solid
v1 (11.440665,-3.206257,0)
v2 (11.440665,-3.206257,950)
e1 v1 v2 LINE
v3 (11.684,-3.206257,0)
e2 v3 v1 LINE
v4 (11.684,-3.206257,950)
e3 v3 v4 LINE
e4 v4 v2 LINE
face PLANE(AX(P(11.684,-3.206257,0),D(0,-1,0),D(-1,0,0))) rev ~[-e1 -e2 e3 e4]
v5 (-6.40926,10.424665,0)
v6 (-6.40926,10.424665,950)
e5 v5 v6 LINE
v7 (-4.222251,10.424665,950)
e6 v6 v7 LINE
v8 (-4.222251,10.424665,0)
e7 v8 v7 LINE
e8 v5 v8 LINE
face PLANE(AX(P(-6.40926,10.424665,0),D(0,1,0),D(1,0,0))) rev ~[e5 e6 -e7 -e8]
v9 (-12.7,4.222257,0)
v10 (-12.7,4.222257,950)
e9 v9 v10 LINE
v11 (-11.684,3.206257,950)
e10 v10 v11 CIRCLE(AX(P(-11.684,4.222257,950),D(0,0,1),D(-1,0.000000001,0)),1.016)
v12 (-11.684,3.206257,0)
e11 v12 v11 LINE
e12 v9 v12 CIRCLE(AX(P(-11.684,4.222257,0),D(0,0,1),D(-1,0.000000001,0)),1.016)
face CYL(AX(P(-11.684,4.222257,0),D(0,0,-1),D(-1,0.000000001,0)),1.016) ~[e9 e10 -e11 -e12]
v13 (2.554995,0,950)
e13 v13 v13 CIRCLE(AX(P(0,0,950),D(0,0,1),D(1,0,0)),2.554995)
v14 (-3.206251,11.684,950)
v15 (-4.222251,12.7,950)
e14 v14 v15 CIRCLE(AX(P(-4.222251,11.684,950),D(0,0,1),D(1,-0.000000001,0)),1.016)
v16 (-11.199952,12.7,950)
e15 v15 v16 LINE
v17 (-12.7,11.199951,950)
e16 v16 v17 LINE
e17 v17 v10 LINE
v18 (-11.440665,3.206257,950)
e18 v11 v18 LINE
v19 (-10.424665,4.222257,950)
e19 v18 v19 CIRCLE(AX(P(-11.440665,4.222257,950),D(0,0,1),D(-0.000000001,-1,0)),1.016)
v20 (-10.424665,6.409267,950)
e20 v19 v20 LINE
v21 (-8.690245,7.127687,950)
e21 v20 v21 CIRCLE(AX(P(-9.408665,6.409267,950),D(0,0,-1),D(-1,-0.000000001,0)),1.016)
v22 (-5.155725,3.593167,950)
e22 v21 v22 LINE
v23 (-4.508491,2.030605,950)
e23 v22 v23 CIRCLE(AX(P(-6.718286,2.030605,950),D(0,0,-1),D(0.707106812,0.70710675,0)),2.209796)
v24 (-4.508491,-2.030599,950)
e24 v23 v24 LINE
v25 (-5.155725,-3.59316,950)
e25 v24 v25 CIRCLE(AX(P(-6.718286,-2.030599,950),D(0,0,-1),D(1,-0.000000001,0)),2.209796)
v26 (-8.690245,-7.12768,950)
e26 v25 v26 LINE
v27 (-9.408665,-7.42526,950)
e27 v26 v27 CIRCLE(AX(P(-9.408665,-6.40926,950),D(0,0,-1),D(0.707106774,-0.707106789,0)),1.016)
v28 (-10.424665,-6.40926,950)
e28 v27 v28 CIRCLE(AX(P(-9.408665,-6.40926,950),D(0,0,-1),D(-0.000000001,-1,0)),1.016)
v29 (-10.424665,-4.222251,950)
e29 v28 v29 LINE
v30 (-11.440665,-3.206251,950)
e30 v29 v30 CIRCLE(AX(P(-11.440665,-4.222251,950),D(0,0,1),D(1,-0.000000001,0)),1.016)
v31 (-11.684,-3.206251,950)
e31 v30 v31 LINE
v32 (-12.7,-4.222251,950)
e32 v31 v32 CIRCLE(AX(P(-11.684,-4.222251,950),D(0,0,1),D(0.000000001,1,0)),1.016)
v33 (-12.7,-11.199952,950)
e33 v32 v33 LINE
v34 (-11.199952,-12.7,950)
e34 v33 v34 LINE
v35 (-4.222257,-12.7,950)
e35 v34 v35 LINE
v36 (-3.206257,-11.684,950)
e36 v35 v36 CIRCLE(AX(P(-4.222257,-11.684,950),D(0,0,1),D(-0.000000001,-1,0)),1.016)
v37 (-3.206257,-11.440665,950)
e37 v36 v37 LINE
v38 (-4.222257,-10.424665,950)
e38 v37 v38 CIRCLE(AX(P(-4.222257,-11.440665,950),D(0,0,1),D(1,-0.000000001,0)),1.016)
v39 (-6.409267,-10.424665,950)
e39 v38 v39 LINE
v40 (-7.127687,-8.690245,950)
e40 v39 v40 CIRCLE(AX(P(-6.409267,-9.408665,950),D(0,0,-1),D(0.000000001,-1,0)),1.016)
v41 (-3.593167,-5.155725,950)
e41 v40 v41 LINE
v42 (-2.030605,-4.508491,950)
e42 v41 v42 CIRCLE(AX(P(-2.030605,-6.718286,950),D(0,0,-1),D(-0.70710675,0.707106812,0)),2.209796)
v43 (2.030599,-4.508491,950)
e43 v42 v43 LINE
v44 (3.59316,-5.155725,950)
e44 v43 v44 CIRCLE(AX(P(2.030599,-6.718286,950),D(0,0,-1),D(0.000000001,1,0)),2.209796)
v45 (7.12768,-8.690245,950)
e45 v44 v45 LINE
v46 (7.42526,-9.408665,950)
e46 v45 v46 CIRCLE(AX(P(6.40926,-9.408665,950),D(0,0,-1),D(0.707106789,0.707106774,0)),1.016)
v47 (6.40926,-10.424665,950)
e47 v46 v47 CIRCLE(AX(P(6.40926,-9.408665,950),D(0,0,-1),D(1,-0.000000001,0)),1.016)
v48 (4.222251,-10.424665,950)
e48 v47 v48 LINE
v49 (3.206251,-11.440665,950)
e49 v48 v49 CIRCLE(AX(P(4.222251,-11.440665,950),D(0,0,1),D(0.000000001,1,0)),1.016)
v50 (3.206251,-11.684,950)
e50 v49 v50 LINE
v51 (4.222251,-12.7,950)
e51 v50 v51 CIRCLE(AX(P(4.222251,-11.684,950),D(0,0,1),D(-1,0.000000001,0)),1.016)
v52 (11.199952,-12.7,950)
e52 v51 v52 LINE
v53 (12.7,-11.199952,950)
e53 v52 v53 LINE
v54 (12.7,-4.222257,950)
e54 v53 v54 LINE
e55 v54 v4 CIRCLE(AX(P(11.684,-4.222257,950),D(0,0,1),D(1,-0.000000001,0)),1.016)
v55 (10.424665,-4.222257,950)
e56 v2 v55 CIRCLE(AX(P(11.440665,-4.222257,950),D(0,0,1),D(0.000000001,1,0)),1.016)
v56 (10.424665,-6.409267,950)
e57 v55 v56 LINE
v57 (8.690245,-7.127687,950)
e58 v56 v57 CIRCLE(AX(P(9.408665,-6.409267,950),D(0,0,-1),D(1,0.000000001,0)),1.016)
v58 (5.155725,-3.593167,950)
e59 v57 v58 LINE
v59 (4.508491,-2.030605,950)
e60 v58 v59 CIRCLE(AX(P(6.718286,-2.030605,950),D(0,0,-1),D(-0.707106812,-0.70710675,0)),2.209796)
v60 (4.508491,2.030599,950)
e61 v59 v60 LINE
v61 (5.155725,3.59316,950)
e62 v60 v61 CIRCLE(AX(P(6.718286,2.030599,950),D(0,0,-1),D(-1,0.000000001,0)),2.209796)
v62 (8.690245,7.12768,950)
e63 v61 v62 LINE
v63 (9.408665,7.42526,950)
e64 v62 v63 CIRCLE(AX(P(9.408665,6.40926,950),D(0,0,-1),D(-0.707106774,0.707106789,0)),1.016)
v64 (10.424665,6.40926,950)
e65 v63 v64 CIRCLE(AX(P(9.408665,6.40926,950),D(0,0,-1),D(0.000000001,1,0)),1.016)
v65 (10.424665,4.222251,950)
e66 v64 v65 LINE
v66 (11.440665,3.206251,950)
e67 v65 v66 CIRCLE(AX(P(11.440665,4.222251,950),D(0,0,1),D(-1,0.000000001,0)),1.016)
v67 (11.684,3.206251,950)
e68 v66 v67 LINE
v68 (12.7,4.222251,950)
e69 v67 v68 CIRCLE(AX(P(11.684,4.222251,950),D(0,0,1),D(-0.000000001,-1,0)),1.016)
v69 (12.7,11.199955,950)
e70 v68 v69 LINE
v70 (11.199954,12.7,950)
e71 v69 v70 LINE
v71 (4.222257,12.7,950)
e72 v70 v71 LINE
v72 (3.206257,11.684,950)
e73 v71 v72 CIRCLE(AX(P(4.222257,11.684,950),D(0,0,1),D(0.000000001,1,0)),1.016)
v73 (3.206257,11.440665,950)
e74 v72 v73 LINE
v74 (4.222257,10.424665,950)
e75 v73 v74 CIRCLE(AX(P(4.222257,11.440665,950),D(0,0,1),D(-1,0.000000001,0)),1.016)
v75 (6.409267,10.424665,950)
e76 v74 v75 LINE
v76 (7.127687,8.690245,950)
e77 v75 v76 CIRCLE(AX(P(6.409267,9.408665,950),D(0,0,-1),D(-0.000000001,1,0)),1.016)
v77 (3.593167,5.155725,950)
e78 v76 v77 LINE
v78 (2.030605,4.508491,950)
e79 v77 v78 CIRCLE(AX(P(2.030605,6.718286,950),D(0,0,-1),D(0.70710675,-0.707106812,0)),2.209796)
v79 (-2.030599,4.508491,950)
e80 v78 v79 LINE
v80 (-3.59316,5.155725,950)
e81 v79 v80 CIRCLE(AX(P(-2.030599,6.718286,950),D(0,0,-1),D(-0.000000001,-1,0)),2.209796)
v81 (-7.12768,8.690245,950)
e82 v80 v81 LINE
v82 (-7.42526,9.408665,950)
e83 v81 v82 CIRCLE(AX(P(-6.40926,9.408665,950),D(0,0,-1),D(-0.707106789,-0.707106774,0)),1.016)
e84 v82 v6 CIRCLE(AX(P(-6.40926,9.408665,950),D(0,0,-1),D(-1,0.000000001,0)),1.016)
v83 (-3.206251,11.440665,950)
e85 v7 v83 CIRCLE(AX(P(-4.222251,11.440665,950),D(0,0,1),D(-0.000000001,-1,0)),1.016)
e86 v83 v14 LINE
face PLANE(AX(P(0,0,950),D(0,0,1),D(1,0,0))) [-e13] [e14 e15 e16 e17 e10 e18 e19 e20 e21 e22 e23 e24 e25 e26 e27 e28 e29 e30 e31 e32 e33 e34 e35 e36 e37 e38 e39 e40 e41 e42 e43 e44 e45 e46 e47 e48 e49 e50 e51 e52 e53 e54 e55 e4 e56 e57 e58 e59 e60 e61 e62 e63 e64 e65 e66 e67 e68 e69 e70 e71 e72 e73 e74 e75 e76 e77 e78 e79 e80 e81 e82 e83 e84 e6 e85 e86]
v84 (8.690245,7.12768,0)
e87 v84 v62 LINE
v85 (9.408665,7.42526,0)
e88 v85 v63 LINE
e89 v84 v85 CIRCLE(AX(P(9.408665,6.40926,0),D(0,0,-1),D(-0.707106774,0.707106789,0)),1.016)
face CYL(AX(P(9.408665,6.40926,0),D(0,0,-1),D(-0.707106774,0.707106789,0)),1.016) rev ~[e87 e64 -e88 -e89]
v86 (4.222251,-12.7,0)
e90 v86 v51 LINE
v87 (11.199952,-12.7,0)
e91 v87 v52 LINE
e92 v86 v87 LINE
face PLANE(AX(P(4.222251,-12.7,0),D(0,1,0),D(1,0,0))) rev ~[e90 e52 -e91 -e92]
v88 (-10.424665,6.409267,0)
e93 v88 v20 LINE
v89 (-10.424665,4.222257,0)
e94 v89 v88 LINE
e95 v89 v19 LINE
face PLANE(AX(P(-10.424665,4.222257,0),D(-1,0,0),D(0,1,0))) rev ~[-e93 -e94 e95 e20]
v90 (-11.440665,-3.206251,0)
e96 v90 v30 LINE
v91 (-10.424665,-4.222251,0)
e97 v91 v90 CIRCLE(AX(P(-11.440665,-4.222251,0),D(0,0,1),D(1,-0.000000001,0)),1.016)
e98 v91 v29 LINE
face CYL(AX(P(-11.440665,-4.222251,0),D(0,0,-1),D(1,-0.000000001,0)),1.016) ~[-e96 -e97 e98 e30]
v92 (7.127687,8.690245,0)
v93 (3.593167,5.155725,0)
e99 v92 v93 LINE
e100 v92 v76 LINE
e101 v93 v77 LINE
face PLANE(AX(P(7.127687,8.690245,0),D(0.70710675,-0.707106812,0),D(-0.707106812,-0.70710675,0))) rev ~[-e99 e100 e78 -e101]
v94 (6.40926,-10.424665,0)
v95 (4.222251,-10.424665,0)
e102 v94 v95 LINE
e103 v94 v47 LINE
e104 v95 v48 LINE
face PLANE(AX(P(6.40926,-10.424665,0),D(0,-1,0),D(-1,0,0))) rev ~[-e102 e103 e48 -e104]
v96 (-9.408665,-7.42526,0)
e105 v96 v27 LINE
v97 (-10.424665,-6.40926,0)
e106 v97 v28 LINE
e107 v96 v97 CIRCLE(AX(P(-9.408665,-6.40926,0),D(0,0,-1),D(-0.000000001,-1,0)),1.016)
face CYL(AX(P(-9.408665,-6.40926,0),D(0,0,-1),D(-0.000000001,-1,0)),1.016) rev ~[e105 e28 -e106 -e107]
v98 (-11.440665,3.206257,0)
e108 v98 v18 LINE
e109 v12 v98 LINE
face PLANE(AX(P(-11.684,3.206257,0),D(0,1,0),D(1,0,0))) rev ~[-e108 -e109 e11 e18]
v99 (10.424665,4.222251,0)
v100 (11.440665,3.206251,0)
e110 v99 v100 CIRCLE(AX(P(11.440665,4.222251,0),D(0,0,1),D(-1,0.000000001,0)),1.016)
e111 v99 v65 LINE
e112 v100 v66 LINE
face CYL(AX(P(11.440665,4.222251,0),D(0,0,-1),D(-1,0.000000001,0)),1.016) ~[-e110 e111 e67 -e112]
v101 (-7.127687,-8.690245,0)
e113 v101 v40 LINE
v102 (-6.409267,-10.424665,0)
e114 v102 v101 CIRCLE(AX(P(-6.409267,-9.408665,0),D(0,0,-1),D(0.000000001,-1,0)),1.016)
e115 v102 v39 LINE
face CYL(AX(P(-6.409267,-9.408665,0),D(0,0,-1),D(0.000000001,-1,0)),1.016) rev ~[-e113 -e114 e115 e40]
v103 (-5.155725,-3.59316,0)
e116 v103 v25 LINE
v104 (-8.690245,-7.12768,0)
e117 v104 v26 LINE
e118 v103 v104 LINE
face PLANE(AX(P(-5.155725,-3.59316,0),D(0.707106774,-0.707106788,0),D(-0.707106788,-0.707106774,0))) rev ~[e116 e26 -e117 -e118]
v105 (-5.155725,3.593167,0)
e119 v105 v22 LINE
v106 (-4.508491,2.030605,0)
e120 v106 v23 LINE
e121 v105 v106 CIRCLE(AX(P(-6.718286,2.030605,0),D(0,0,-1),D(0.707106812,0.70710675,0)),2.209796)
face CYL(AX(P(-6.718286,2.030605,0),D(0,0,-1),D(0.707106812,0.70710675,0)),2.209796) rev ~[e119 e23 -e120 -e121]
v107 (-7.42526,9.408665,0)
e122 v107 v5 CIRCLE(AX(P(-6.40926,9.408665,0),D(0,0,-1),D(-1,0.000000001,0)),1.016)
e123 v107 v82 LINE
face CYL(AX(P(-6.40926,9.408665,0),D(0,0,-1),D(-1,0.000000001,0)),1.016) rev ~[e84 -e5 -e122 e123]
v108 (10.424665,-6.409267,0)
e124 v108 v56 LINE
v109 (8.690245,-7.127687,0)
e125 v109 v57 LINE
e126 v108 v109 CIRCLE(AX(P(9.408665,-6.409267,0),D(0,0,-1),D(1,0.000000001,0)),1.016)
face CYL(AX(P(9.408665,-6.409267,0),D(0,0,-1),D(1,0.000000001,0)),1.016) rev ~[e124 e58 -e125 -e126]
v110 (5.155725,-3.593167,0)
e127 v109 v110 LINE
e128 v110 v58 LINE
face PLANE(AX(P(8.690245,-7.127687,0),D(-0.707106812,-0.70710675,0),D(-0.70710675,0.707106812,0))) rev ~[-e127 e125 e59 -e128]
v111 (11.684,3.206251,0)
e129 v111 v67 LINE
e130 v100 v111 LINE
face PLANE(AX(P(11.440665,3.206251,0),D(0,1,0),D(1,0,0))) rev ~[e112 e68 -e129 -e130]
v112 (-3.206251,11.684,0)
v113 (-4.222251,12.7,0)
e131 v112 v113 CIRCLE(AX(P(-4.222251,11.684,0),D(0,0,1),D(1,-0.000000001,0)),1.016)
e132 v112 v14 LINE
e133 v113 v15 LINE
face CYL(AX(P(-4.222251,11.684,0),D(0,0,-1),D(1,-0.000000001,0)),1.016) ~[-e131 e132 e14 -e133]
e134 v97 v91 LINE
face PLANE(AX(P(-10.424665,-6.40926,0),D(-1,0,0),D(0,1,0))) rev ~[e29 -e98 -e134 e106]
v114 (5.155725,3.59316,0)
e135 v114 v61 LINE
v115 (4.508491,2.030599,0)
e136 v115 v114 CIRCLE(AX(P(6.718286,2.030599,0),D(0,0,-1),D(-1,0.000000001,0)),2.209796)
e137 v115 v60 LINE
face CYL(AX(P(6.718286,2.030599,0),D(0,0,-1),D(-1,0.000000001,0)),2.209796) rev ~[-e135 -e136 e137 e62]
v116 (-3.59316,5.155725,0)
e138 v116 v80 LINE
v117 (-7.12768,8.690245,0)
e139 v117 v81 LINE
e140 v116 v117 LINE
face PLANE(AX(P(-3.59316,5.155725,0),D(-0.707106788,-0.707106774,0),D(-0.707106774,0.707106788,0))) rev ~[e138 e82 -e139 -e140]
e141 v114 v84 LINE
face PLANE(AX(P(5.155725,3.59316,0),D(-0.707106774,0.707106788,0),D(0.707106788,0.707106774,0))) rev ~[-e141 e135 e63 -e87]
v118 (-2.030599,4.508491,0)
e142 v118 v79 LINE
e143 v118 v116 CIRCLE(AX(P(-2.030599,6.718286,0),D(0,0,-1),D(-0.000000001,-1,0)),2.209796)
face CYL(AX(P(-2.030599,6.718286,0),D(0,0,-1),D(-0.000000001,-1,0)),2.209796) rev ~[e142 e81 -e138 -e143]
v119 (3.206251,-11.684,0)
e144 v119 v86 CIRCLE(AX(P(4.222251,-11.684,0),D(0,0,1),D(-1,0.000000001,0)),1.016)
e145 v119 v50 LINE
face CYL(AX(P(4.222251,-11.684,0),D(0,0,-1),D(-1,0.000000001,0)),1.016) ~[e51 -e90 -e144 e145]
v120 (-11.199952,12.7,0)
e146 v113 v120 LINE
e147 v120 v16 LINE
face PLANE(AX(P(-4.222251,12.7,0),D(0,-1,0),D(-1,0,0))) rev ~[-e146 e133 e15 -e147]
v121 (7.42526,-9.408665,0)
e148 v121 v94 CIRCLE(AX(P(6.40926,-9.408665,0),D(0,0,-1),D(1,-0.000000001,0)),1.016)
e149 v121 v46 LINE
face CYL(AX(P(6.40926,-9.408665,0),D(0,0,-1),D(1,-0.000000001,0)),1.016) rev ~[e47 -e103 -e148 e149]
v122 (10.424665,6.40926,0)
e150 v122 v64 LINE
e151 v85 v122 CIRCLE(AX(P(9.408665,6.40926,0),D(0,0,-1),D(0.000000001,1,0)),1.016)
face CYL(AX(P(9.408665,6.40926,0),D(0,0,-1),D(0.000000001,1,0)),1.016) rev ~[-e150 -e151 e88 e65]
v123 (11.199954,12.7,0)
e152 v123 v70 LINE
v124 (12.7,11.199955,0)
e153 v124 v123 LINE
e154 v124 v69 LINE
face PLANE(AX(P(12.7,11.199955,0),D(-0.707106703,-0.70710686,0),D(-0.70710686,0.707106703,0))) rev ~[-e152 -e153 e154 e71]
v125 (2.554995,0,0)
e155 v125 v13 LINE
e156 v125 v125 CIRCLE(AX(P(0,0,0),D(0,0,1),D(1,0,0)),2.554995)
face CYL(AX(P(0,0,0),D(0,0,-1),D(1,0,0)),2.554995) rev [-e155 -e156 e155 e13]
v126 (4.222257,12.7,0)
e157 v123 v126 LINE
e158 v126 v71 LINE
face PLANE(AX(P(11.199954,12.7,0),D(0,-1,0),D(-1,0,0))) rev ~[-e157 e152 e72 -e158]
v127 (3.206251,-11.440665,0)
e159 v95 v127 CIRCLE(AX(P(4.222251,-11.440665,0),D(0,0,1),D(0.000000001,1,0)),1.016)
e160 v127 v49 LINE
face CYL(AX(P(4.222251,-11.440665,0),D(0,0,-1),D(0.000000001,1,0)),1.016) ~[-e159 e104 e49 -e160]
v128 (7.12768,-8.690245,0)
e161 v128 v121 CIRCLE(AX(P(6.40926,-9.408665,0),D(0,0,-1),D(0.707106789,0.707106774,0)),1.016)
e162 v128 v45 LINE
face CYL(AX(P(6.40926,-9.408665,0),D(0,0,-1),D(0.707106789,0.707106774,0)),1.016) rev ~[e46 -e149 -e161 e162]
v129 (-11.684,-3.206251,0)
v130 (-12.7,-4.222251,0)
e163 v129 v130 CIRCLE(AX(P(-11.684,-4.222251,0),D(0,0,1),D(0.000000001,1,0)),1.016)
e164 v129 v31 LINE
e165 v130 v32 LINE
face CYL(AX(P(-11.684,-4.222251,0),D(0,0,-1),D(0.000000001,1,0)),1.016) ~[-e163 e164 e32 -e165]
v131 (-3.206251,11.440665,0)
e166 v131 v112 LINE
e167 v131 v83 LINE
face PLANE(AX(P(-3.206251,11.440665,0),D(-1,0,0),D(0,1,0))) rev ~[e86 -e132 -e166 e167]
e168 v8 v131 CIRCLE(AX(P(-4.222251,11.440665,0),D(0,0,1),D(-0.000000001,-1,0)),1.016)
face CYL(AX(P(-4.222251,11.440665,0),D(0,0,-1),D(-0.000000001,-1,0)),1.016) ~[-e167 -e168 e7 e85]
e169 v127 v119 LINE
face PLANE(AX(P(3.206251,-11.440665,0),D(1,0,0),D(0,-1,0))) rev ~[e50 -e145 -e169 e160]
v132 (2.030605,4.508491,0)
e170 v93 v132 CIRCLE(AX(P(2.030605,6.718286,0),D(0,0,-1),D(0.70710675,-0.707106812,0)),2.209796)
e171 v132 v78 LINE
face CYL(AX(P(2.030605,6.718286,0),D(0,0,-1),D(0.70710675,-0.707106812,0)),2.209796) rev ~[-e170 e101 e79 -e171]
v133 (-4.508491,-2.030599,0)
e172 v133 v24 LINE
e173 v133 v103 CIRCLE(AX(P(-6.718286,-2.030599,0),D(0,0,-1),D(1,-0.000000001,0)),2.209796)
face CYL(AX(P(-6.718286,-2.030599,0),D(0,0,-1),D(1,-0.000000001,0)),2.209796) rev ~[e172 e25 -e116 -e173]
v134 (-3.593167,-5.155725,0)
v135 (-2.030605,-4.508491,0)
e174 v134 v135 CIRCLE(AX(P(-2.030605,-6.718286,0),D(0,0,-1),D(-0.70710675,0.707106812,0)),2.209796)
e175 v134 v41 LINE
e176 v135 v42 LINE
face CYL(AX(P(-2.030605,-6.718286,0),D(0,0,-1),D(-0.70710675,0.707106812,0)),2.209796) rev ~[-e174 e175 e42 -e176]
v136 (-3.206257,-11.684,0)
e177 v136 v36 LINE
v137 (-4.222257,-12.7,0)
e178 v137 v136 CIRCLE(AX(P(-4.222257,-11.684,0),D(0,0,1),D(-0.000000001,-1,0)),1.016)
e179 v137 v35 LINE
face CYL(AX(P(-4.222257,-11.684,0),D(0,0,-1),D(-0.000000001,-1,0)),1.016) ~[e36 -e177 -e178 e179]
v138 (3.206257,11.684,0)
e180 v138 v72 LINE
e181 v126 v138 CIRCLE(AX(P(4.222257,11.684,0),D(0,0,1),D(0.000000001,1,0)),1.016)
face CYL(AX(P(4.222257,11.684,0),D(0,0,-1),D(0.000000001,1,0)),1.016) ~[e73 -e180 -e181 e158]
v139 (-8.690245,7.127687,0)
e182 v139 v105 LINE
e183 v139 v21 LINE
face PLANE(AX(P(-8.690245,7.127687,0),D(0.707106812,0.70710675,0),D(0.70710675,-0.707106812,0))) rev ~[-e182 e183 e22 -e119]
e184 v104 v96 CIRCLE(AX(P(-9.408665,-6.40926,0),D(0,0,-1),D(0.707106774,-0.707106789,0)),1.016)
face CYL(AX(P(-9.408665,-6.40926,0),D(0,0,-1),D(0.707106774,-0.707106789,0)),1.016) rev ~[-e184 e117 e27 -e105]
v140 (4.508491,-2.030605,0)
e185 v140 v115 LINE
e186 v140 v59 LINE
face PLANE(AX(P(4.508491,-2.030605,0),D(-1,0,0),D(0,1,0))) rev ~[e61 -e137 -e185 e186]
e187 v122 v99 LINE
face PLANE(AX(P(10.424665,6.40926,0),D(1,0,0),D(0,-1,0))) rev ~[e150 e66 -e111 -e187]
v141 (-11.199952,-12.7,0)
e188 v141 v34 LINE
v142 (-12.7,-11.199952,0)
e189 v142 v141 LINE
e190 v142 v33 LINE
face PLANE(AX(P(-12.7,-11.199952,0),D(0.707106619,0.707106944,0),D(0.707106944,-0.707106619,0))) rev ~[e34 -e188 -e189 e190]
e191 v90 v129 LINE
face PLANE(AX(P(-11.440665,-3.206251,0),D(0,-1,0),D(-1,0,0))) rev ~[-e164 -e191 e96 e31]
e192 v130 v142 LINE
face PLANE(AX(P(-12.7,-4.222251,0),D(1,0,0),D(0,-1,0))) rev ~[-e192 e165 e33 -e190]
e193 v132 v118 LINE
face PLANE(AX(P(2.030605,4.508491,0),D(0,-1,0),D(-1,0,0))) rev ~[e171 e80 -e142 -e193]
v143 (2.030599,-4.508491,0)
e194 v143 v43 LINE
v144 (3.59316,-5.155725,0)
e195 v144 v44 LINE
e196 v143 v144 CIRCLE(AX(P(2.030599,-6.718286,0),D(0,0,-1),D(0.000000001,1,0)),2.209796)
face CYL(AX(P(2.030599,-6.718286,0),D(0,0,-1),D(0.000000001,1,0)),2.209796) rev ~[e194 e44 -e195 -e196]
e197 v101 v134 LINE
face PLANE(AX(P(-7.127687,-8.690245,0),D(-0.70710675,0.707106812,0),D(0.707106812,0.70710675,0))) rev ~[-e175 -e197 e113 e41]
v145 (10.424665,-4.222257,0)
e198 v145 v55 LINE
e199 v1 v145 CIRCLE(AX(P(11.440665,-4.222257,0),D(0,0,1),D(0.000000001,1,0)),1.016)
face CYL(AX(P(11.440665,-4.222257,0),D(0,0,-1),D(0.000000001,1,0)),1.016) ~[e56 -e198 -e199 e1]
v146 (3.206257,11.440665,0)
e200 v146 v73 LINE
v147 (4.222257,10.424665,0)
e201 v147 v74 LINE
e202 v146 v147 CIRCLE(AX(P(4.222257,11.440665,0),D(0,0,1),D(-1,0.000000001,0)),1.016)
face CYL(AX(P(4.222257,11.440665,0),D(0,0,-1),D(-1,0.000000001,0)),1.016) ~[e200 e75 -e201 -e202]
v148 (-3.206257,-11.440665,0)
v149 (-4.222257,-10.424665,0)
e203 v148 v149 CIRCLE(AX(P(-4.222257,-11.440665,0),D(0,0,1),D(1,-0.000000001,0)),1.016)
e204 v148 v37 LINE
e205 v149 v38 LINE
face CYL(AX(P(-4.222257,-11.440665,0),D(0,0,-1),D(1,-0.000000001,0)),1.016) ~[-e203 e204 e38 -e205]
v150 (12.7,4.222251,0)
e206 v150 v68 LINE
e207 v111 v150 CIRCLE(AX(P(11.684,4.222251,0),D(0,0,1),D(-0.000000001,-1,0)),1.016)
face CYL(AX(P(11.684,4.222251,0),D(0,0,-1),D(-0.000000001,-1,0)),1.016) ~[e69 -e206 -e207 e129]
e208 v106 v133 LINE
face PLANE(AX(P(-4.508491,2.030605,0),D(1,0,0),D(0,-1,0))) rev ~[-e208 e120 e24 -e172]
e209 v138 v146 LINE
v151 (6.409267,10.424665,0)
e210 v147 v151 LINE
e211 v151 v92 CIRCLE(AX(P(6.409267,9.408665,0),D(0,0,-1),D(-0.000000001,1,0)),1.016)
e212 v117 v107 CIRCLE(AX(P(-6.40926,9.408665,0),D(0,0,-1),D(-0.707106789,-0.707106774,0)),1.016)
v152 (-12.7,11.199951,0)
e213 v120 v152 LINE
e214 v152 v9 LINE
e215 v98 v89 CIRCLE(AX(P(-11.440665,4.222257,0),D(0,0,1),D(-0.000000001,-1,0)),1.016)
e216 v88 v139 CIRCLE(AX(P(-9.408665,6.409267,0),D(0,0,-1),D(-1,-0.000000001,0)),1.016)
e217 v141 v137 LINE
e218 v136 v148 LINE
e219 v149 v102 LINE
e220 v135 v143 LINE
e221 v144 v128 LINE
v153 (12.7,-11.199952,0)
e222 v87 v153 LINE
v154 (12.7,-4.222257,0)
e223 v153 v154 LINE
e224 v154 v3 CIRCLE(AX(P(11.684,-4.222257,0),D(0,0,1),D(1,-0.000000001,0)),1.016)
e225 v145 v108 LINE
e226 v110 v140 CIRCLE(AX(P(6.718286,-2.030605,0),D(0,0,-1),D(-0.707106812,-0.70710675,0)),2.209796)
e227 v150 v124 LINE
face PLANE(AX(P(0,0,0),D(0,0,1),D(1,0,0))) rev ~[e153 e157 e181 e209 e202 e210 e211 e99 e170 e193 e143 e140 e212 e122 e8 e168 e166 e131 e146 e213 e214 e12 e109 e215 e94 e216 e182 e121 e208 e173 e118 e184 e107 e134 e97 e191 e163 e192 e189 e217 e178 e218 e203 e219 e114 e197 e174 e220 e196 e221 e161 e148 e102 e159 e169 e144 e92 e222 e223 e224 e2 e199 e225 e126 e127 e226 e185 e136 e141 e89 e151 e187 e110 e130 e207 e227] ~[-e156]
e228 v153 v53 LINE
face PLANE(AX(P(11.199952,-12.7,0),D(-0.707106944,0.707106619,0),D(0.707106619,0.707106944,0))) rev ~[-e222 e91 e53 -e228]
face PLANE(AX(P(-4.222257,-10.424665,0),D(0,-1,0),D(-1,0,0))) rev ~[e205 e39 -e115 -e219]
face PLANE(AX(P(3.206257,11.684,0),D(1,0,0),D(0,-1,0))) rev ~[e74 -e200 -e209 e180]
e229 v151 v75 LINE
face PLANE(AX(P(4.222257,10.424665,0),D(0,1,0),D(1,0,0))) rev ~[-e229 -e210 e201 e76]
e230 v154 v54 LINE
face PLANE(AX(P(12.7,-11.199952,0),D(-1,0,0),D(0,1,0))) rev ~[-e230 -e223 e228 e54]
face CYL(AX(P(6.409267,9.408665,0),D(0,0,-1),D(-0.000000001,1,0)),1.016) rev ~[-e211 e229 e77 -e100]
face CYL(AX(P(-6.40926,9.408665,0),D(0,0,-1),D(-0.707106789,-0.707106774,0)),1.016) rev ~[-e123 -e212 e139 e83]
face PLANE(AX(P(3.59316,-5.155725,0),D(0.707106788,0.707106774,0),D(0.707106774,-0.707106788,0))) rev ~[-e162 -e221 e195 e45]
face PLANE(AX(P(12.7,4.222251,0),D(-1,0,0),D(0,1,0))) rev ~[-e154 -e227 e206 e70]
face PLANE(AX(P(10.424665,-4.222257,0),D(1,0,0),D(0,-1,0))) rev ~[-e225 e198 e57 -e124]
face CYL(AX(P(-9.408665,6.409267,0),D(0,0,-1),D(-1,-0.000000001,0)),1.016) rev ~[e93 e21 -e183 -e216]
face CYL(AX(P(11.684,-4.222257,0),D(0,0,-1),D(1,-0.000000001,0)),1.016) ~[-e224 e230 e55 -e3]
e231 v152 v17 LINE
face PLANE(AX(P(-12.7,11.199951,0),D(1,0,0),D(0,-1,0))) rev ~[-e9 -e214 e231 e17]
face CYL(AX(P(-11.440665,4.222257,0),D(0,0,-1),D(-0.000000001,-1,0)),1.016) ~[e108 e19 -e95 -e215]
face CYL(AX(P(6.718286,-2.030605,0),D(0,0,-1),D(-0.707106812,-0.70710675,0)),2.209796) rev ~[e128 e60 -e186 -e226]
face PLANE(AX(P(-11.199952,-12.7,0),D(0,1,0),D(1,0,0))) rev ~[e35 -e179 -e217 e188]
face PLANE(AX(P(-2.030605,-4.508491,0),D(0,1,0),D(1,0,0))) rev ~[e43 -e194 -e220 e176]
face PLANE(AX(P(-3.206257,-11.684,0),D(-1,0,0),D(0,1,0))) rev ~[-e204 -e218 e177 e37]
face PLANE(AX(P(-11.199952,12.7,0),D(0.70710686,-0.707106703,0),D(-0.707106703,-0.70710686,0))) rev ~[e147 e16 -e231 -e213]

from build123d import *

# Parameters (mm, degrees)
BOSS_EXTRUDE1_DEPTH = 950


with BuildPart() as part:
    # Sketch1 → Boss-Extrude1 (new body)
    with BuildSketch(Plane.XY):
        with BuildLine():
            Line((-11.199951579, -12.7), (-4.222256762, -12.7))
            ThreePointArc((-4.222256762, -12.7), (-3.503836272, -12.40242049), (-3.206256762, -11.684))
            Line((-3.206256762, -11.684), (-3.206256762, -11.440665395))
            ThreePointArc((-3.206256762, -11.440665395), (-3.503836272, -10.722244905), (-4.222256762, -10.424665395))
            Line((-4.222256762, -10.424665395), (-6.40926672, -10.424665395))
            ThreePointArc((-6.40926672, -10.424665395), (-7.347928334, -9.797471742), (-7.127687178, -8.690244874))
            Line((-7.127687178, -8.690244874), (-3.593166694, -5.155724698))
            ThreePointArc((-3.593166694, -5.155724698), (-2.876257435, -4.67670128), (-2.030605322, -4.508490626))
            Line((-2.030605322, -4.508490626), (2.030598864, -4.508490626))
            ThreePointArc((2.030598864, -4.508490626), (2.876251031, -4.676701303), (3.593160319, -5.155724782))
            Line((3.593160319, -5.155724782), (7.127680379, -8.690244912))
            ThreePointArc((7.127680379, -8.690244912), (7.347921489, -9.019859032), (7.425259882, -9.408665395))
            ThreePointArc((7.425259882, -9.408665395), (7.127680372, -10.127085884), (6.409259882, -10.424665395))
            Line((6.409259882, -10.424665395), (4.22225065, -10.424665395))
            ThreePointArc((4.22225065, -10.424665395), (3.50383016, -10.722244905), (3.20625065, -11.440665395))
            Line((3.20625065, -11.440665395), (3.20625065, -11.684))
            ThreePointArc((3.20625065, -11.684), (3.50383016, -12.40242049), (4.22225065, -12.7))
            Line((4.22225065, -12.7), (11.199952422, -12.7))
            Line((11.199952422, -12.7), (12.7, -11.199951732))
            Line((12.7, -11.199951732), (12.7, -4.222256762))
            ThreePointArc((12.7, -4.222256762), (12.40242049, -3.503836272), (11.684, -3.206256762))
            Line((11.684, -3.206256762), (11.440665395, -3.206256762))
            ThreePointArc((11.440665395, -3.206256762), (10.722244905, -3.503836272), (10.424665395, -4.222256762))
            Line((10.424665395, -4.222256762), (10.424665395, -6.40926672))
            ThreePointArc((10.424665395, -6.40926672), (9.797471742, -7.347928334), (8.690244874, -7.127687178))
            Line((8.690244874, -7.127687178), (5.155724698, -3.593166694))
            ThreePointArc((5.155724698, -3.593166694), (4.67670128, -2.876257435), (4.508490626, -2.030605322))
            Line((4.508490626, -2.030605322), (4.508490626, 2.030598864))
            ThreePointArc((4.508490626, 2.030598864), (4.676701303, 2.876251031), (5.155724782, 3.593160319))
            Line((5.155724782, 3.593160319), (8.690244912, 7.127680379))
            ThreePointArc((8.690244912, 7.127680379), (9.019859032, 7.347921489), (9.408665395, 7.425259882))
            ThreePointArc((9.408665395, 7.425259882), (10.127085884, 7.127680372), (10.424665395, 6.409259882))
            Line((10.424665395, 6.409259882), (10.424665395, 4.22225065))
            ThreePointArc((10.424665395, 4.22225065), (10.722244905, 3.50383016), (11.440665395, 3.20625065))
            Line((11.440665395, 3.20625065), (11.684, 3.20625065))
            ThreePointArc((11.684, 3.20625065), (12.40242049, 3.50383016), (12.7, 4.22225065))
            Line((12.7, 4.22225065), (12.7, 11.199954756))
            Line((12.7, 11.199954756), (11.199954423, 12.7))
            Line((11.199954423, 12.7), (4.222256762, 12.7))
            ThreePointArc((4.222256762, 12.7), (3.503836272, 12.40242049), (3.206256762, 11.684))
            Line((3.206256762, 11.684), (3.206256762, 11.440665395))
            ThreePointArc((3.206256762, 11.440665395), (3.503836272, 10.722244905), (4.222256762, 10.424665395))
            Line((4.222256762, 10.424665395), (6.40926672, 10.424665395))
            ThreePointArc((6.40926672, 10.424665395), (7.347928334, 9.797471742), (7.127687178, 8.690244874))
            Line((7.127687178, 8.690244874), (3.593166694, 5.155724698))
            ThreePointArc((3.593166694, 5.155724698), (2.876257435, 4.67670128), (2.030605322, 4.508490626))
            Line((2.030605322, 4.508490626), (-2.030598864, 4.508490626))
            ThreePointArc((-2.030598864, 4.508490626), (-2.876251031, 4.676701303), (-3.593160319, 5.155724782))
            Line((-3.593160319, 5.155724782), (-7.127680379, 8.690244912))
            ThreePointArc((-7.127680379, 8.690244912), (-7.347921489, 9.019859032), (-7.425259882, 9.408665395))
            ThreePointArc((-7.425259882, 9.408665395), (-7.127680372, 10.127085884), (-6.409259882, 10.424665395))
            Line((-6.409259882, 10.424665395), (-4.22225065, 10.424665395))
            ThreePointArc((-4.22225065, 10.424665395), (-3.50383016, 10.722244905), (-3.20625065, 11.440665395))
            Line((-3.20625065, 11.440665395), (-3.20625065, 11.684))
            ThreePointArc((-3.20625065, 11.684), (-3.50383016, 12.40242049), (-4.22225065, 12.7))
            Line((-4.22225065, 12.7), (-11.199951733, 12.7))
            Line((-11.199951733, 12.7), (-12.7, 11.1999514))
            Line((-12.7, 11.1999514), (-12.7, 4.222256762))
            ThreePointArc((-12.7, 4.222256762), (-12.40242049, 3.503836272), (-11.684, 3.206256762))
            Line((-11.684, 3.206256762), (-11.440665395, 3.206256762))
            ThreePointArc((-11.440665395, 3.206256762), (-10.722244905, 3.503836272), (-10.424665395, 4.222256762))
            Line((-10.424665395, 4.222256762), (-10.424665395, 6.40926672))
            ThreePointArc((-10.424665395, 6.40926672), (-9.797471742, 7.347928334), (-8.690244874, 7.127687178))
            Line((-8.690244874, 7.127687178), (-5.155724698, 3.593166694))
            ThreePointArc((-5.155724698, 3.593166694), (-4.67670128, 2.876257435), (-4.508490626, 2.030605322))
            Line((-4.508490626, 2.030605322), (-4.508490626, -2.030598864))
            ThreePointArc((-4.508490626, -2.030598864), (-4.676701303, -2.876251031), (-5.155724782, -3.593160319))
            Line((-5.155724782, -3.593160319), (-8.690244912, -7.127680379))
            ThreePointArc((-8.690244912, -7.127680379), (-9.019859032, -7.347921489), (-9.408665395, -7.425259882))
            ThreePointArc((-9.408665395, -7.425259882), (-10.127085884, -7.127680372), (-10.424665395, -6.409259882))
            Line((-10.424665395, -6.409259882), (-10.424665395, -4.22225065))
            ThreePointArc((-10.424665395, -4.22225065), (-10.722244905, -3.50383016), (-11.440665395, -3.20625065))
            Line((-11.440665395, -3.20625065), (-11.684, -3.20625065))
            ThreePointArc((-11.684, -3.20625065), (-12.40242049, -3.50383016), (-12.7, -4.22225065))
            Line((-12.7, -4.22225065), (-12.7, -11.199952268))
            Line((-12.7, -11.199952268), (-11.199951579, -12.7))
        make_face()
        with BuildLine():
            ThreePointArc((-2.55499489, 0), (0, -2.55499489), (2.55499489, 0))
            ThreePointArc((2.55499489, 0), (0, 2.55499489), (-2.55499489, 0))
        make_face(mode=Mode.SUBTRACT)
    extrude(amount=BOSS_EXTRUDE1_DEPTH)


solid = part.part
